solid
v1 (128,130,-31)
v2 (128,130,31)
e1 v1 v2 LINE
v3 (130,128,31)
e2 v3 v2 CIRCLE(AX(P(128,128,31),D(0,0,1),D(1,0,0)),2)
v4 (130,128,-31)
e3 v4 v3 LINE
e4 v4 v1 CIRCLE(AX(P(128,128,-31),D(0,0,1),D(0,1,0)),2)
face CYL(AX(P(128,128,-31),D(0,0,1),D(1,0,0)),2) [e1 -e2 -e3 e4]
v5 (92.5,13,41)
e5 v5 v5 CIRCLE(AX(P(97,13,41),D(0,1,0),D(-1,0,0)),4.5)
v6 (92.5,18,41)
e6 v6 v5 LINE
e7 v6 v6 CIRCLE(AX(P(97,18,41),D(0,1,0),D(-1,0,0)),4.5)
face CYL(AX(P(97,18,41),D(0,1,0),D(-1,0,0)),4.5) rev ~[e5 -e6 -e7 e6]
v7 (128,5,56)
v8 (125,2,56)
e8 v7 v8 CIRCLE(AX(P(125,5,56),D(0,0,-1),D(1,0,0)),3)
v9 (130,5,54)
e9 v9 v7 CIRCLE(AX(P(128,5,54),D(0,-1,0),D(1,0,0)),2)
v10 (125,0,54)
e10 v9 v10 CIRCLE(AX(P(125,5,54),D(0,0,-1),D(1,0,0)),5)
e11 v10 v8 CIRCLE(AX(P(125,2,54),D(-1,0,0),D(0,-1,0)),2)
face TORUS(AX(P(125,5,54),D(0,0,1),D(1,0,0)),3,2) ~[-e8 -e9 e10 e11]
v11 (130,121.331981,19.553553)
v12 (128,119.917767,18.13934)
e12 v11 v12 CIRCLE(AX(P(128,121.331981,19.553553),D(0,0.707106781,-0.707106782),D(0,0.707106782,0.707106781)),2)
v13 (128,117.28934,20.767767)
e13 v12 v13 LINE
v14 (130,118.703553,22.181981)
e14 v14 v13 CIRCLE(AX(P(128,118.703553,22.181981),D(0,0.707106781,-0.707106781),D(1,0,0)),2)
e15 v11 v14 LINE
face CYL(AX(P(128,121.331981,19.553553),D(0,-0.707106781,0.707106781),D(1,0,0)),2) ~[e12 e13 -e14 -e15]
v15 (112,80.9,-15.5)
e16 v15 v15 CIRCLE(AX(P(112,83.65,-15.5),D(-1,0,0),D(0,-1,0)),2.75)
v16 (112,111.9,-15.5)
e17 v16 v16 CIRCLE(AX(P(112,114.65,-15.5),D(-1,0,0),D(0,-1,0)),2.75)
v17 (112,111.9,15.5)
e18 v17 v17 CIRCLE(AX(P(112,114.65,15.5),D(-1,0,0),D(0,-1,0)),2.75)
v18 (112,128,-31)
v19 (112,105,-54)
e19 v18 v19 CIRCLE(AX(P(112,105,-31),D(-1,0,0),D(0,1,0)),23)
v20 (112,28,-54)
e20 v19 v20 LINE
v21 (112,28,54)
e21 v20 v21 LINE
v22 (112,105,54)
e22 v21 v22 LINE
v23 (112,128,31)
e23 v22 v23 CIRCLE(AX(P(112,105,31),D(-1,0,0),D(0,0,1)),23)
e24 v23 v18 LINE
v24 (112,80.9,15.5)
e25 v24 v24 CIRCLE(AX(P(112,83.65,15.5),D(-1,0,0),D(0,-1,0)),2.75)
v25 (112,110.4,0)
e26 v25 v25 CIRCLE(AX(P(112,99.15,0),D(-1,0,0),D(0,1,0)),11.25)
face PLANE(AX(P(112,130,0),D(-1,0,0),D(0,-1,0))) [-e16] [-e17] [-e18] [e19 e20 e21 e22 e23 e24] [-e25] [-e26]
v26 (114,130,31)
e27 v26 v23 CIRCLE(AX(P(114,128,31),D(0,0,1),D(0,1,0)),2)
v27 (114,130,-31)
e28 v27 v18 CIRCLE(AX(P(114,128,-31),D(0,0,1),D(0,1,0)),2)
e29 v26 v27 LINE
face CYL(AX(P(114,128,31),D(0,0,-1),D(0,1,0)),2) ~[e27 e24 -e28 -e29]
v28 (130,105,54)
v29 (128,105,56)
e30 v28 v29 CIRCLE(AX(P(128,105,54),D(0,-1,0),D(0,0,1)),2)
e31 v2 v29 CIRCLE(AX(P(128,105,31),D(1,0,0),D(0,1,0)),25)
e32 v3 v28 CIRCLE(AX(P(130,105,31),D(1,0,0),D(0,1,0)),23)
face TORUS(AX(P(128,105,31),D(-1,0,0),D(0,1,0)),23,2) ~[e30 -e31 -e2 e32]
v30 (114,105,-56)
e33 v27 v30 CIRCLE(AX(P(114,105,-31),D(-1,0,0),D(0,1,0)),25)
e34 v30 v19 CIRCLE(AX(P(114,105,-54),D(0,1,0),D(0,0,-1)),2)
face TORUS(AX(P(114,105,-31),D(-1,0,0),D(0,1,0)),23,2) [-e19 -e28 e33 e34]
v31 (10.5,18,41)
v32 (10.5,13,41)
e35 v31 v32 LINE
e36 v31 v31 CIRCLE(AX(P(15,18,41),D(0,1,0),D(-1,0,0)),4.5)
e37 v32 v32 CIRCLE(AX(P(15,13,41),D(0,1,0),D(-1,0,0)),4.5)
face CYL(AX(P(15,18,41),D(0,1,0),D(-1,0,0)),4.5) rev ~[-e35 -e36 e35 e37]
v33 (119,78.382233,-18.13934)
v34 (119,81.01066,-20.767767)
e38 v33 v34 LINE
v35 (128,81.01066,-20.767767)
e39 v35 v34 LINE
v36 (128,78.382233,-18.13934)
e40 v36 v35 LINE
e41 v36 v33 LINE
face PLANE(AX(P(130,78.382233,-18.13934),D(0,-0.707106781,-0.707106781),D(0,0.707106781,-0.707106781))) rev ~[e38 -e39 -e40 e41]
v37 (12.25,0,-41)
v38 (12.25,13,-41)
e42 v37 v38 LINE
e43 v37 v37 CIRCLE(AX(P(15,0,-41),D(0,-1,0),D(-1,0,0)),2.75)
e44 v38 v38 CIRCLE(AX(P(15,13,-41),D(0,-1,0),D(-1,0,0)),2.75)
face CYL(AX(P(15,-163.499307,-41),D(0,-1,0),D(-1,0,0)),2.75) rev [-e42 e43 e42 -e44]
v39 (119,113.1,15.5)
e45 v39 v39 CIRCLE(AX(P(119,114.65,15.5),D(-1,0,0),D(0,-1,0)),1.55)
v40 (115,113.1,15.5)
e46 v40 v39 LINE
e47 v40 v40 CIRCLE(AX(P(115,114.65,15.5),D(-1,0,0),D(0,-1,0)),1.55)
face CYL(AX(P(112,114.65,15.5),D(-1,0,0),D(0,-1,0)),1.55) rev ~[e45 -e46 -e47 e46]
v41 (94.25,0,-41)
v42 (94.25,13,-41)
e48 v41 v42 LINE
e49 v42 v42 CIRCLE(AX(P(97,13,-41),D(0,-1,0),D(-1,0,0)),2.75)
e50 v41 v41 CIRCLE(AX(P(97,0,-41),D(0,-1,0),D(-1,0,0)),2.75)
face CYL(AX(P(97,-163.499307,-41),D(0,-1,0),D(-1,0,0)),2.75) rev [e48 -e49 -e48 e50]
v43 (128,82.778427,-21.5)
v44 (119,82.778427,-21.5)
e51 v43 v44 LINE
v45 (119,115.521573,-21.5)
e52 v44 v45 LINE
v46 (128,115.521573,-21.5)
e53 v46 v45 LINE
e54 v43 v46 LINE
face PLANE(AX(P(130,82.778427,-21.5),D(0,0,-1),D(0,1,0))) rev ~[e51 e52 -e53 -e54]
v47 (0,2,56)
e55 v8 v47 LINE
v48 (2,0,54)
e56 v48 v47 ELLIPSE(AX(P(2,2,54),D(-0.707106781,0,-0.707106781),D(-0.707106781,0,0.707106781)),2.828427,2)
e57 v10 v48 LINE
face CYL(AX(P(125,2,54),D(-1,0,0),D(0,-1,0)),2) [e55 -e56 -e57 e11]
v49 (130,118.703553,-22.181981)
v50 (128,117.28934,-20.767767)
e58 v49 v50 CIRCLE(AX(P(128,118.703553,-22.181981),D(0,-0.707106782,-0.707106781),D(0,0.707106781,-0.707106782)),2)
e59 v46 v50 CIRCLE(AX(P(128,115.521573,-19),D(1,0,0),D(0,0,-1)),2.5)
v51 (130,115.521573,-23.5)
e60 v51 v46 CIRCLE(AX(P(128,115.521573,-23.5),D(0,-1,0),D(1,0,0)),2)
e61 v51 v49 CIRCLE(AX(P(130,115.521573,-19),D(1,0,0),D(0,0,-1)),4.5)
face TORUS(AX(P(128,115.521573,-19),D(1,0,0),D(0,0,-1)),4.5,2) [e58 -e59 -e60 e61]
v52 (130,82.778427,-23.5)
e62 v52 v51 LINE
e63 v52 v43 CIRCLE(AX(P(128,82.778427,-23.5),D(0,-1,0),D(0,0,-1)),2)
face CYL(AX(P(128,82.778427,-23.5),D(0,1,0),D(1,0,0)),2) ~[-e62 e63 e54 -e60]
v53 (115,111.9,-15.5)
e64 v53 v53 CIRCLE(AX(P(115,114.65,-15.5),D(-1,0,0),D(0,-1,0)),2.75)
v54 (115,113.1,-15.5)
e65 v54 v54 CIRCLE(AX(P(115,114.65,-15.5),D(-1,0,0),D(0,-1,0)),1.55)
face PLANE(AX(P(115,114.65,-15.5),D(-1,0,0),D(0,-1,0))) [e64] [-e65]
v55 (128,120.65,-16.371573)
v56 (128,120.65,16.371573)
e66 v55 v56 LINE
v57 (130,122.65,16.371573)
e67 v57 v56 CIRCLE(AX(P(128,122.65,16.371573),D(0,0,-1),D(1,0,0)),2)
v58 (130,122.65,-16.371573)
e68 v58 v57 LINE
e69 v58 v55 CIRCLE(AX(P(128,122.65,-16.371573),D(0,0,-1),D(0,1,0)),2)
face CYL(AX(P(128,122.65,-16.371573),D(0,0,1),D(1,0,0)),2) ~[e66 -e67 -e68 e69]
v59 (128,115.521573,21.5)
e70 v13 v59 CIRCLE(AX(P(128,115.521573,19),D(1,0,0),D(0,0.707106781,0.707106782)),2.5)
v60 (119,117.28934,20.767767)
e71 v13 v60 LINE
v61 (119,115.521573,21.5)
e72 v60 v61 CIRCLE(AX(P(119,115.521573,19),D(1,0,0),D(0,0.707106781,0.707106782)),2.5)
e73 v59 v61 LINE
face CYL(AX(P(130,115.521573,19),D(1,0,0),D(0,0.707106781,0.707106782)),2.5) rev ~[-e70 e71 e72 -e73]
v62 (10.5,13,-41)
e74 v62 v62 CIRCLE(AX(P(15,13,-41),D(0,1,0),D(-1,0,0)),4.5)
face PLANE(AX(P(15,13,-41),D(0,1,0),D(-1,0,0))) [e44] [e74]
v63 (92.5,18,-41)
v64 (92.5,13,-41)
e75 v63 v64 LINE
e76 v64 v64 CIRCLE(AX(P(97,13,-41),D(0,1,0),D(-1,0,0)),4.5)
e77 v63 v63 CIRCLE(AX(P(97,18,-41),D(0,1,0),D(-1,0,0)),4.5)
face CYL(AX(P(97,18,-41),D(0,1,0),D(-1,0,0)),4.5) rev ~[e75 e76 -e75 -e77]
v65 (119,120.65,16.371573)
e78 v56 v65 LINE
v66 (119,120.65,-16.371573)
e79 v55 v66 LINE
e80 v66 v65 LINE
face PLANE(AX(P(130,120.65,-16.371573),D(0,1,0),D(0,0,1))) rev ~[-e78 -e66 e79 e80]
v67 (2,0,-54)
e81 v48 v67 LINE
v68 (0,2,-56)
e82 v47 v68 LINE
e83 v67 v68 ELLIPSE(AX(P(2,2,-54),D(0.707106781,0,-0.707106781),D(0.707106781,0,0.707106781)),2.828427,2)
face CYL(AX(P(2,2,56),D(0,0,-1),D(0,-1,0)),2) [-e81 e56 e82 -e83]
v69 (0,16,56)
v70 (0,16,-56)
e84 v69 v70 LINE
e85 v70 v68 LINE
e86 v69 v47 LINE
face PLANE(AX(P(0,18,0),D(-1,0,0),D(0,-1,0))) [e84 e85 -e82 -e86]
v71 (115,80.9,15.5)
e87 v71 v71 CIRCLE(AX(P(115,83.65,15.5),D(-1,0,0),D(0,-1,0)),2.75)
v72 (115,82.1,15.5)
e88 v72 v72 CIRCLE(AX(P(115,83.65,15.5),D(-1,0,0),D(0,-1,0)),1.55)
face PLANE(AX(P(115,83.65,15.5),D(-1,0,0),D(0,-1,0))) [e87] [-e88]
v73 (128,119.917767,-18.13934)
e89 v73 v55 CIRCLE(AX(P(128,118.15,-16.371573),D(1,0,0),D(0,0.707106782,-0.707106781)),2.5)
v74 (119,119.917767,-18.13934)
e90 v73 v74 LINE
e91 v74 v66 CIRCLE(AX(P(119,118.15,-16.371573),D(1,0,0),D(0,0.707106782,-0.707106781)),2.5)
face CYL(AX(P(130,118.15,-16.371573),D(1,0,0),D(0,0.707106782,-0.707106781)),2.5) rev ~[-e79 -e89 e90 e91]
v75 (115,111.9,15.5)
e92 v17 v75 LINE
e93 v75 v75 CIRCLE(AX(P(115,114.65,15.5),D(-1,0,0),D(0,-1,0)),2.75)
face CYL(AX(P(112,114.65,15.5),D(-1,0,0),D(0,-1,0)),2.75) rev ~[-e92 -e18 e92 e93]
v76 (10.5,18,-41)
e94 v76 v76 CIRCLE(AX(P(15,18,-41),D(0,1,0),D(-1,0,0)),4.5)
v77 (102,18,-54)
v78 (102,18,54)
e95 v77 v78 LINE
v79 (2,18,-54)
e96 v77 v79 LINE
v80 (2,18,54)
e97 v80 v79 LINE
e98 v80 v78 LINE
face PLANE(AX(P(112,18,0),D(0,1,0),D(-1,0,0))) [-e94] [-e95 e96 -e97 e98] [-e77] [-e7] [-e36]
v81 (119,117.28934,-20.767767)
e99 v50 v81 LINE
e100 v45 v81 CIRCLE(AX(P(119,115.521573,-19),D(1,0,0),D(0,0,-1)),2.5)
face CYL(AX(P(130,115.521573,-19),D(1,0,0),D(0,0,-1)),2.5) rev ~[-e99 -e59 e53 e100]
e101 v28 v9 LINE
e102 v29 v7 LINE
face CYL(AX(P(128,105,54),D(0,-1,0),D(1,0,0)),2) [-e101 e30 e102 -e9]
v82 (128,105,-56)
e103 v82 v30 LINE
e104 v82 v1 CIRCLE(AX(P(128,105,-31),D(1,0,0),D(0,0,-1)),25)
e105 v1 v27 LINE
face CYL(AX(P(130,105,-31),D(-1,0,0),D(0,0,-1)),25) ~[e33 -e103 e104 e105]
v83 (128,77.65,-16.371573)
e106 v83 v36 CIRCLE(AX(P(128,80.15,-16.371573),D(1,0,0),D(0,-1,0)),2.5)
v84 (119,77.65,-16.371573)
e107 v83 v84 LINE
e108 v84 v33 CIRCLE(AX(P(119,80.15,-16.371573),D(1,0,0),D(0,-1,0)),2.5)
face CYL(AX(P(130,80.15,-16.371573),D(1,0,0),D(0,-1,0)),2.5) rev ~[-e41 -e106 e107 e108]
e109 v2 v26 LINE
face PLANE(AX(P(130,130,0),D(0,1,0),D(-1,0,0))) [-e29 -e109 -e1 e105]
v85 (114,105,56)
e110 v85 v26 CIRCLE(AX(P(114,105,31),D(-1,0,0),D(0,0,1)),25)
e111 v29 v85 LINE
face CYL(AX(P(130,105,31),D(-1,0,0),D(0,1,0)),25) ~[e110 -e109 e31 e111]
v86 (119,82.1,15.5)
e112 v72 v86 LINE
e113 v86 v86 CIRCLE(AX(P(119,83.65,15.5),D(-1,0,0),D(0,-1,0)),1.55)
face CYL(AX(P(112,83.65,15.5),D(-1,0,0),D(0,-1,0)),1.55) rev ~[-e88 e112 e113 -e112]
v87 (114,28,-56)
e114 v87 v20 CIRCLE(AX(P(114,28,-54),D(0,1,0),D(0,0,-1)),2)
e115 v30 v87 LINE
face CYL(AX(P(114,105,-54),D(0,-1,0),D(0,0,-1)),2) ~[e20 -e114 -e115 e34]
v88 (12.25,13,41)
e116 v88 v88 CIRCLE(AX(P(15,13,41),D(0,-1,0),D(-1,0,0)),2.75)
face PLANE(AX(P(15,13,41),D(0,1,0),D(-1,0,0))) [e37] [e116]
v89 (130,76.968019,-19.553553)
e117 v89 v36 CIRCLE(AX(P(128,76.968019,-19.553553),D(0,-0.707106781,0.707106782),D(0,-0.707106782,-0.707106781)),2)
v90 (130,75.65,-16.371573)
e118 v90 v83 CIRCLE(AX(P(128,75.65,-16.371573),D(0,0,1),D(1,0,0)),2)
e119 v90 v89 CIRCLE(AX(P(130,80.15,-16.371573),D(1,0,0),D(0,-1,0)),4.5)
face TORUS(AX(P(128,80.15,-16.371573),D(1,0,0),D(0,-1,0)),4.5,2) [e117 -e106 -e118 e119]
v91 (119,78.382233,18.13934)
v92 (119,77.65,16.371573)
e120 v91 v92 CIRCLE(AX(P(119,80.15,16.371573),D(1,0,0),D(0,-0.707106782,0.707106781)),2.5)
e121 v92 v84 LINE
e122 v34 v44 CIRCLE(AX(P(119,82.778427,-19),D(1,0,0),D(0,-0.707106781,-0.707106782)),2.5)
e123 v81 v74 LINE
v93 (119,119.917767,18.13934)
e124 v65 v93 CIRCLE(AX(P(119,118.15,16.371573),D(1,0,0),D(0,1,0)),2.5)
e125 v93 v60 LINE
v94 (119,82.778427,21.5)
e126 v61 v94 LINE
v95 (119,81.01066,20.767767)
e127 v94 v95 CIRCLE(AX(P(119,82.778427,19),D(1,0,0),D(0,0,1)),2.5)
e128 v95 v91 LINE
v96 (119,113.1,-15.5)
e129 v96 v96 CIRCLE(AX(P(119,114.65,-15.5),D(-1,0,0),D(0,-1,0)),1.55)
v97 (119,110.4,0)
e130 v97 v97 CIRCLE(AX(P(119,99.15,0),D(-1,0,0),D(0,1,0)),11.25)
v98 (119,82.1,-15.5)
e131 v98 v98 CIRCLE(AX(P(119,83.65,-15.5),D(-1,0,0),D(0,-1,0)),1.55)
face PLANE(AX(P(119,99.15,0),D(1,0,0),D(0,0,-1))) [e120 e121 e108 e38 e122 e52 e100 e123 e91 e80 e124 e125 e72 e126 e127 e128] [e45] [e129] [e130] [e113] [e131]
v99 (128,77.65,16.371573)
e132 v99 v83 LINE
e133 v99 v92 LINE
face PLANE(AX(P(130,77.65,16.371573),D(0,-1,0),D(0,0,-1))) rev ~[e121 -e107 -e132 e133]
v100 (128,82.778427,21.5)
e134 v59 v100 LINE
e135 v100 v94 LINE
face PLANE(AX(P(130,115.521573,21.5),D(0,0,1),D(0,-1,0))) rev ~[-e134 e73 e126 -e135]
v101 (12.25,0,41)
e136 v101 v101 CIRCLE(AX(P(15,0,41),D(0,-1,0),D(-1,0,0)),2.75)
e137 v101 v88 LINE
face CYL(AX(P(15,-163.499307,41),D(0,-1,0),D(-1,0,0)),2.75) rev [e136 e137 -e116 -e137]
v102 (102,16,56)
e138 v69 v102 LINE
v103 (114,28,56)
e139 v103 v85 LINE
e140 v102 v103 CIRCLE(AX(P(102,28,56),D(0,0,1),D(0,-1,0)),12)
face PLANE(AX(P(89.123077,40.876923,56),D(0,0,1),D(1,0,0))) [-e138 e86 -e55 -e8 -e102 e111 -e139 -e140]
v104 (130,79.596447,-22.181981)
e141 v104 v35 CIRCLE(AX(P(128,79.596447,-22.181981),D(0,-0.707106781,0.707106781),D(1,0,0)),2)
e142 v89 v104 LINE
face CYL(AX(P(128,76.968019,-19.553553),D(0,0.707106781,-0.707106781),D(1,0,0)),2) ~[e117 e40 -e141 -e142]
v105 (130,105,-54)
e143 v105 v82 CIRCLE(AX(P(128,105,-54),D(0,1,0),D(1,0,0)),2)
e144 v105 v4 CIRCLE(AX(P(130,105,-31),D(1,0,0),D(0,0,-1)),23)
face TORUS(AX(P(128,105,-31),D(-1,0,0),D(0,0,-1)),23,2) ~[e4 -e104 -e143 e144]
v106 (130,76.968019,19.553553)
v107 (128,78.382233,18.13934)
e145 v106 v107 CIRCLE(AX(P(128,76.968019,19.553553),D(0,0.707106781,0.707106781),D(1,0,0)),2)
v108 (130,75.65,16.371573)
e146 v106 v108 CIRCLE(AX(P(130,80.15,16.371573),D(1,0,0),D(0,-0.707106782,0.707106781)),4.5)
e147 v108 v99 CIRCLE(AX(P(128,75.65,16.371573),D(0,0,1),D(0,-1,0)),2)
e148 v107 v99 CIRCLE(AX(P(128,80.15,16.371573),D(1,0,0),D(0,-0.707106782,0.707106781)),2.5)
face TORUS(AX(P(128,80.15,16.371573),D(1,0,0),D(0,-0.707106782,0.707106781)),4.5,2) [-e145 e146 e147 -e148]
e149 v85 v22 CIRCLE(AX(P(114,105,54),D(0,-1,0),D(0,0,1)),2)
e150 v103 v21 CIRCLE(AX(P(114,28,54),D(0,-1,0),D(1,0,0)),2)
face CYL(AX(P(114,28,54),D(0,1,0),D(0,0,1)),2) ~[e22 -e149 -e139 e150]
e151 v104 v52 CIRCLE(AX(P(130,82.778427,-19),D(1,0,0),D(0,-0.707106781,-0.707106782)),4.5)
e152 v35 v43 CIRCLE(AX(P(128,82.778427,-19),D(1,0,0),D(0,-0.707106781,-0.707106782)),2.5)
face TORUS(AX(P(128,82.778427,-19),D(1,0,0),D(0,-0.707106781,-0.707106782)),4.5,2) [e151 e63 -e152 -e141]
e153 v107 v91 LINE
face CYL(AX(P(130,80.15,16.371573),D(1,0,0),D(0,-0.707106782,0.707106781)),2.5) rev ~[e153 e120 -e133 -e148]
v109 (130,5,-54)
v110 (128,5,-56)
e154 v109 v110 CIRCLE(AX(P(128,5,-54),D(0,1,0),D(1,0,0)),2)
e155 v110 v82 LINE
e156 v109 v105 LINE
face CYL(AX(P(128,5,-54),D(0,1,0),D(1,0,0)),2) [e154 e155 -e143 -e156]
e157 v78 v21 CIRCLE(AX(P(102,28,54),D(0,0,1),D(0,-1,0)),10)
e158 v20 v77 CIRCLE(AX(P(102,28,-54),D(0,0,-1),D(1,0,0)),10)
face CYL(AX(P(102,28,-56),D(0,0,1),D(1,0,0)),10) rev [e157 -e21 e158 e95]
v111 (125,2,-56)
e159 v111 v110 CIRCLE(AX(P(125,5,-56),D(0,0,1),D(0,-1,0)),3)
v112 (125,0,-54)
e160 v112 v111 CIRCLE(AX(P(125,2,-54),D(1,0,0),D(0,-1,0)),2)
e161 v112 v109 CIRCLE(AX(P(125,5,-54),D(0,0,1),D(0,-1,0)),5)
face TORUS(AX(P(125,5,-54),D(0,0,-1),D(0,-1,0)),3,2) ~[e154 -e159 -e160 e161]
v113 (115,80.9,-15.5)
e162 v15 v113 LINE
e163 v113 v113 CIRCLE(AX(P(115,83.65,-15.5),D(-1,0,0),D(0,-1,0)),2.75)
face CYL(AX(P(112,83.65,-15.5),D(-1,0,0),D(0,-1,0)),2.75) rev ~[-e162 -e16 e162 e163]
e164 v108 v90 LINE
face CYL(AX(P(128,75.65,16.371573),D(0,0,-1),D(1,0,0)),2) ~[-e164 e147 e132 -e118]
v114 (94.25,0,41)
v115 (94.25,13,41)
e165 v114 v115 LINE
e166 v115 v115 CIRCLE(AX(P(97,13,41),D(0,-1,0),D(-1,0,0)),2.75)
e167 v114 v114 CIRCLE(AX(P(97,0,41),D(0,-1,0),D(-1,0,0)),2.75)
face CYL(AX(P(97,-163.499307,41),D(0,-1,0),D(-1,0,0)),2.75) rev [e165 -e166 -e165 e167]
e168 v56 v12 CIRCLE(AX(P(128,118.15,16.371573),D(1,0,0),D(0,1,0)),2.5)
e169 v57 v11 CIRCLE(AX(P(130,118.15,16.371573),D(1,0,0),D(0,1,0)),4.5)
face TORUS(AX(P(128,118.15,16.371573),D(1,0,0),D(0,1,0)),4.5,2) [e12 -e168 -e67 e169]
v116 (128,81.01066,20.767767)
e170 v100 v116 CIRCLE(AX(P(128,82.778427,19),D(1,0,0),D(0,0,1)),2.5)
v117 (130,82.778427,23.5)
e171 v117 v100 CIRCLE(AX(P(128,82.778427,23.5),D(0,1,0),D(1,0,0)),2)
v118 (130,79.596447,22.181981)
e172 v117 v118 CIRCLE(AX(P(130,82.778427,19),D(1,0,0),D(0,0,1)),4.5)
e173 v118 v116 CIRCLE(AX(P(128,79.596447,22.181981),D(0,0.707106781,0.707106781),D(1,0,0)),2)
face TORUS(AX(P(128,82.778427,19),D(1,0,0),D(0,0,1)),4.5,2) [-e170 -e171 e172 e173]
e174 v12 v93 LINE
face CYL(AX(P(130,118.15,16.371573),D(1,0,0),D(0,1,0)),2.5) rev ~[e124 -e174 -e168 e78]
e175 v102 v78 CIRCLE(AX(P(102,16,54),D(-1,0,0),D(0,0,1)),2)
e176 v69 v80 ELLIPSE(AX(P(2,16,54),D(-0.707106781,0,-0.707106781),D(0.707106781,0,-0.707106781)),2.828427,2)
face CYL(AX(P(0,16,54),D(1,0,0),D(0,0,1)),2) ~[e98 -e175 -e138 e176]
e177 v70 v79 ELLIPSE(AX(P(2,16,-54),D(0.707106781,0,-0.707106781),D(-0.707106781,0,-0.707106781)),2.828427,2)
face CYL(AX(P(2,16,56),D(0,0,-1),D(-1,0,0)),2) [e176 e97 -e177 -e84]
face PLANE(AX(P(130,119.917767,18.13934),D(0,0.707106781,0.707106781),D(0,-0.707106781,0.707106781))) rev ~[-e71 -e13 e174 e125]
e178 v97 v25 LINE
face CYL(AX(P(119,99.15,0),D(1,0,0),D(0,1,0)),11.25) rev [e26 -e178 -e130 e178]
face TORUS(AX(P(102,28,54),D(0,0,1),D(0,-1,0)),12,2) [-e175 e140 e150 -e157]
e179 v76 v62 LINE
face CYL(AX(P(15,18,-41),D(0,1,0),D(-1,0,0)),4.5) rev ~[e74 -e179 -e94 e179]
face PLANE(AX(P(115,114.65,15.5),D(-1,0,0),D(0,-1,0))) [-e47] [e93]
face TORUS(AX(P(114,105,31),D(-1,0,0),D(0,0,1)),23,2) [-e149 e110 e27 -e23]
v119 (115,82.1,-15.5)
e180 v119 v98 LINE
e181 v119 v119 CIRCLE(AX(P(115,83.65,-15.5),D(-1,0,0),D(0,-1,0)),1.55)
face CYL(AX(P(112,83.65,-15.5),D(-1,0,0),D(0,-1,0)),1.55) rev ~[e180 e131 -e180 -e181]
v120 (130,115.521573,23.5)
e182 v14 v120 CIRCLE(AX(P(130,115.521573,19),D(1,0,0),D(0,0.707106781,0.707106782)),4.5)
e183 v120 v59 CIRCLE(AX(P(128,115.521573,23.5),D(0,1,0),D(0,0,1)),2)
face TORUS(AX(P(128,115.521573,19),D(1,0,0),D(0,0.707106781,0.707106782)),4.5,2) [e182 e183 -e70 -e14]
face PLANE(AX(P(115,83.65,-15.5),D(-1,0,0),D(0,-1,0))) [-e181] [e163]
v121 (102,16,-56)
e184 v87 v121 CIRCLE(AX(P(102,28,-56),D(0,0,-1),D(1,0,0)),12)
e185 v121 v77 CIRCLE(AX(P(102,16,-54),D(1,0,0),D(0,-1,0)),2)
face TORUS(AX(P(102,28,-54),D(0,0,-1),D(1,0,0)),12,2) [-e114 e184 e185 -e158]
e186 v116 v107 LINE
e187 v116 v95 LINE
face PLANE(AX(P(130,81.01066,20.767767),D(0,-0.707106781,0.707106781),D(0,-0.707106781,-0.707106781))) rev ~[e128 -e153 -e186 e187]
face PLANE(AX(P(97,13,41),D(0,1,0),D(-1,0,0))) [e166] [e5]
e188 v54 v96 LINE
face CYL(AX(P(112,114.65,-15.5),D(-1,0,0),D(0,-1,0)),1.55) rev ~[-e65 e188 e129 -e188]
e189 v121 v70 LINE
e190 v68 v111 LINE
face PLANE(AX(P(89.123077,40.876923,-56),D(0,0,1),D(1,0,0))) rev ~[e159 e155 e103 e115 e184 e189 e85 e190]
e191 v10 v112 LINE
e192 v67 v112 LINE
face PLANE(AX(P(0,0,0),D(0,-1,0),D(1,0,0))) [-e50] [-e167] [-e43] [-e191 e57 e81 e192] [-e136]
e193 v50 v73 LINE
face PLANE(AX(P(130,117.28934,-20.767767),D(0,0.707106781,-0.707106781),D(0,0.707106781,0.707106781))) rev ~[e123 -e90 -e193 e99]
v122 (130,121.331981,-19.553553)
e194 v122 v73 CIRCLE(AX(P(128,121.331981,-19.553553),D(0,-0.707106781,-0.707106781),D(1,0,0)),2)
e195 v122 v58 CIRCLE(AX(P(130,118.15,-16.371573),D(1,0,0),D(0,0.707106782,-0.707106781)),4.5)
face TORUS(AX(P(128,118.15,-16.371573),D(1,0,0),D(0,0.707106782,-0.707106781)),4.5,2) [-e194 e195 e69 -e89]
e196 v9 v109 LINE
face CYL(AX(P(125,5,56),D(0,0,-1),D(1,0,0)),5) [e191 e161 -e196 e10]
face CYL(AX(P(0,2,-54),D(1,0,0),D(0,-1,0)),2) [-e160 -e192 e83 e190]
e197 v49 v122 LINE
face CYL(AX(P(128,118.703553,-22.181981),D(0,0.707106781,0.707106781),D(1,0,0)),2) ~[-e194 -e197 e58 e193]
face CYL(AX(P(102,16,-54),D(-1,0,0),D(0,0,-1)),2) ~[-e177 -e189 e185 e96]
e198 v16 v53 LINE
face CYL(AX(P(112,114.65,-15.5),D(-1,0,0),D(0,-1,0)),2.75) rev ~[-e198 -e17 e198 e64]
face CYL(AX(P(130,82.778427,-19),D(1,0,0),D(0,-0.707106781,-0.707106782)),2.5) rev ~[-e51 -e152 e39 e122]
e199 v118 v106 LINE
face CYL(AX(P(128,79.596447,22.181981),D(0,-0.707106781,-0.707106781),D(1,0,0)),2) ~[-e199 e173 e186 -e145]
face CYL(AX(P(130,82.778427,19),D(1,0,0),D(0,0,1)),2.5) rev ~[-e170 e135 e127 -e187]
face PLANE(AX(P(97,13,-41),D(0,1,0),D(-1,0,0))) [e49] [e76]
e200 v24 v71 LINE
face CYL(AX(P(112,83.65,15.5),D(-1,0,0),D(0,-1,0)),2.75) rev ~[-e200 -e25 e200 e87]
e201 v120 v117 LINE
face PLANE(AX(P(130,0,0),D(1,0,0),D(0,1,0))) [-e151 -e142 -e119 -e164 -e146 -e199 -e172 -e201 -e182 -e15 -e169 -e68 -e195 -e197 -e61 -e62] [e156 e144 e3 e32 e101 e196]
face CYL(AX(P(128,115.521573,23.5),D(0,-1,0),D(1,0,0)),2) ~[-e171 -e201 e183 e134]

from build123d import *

# Parameters (mm, degrees)
BOSS_EXTRUDE1_DEPTH     = 56
CUT_EXTRUDE1_DEPTH      = 11
SKETCH6_R               = 11.25
SKETCH6_R_2             = 11
CUT_EXTRUDE3_DEPTH      = 7
CUT_EXTRUDE4_REACH      = 182.499
SKETCH7_R               = 1.55
SKETCH8_R               = 2.75
SKETCH8_R_2             = 1.55
CUT_EXTRUDE5_DEPTH      = 3
SKETCH9_R               = 4.5
SKETCH9_R_2             = 2.75
CUT_EXTRUDE6_DEPTH      = 5
CUT_EXTRUDE7_DEPTH      = 181.499307478
CUT_EXTRUDE7_DEPTH_BACK = 181.499307478
SKETCH9_3_R             = 2.75
FILLET1_R               = 10
FILLET2_R               = 25
FILLET3_R               = 5
FILLET4_R               = 2


with BuildPart() as part:
    # Sketch1 → Boss-Extrude1 (new, symmetric)
    with BuildSketch(Plane.XY):
        Polygon((130, 0), (130, 130), (112, 130), (112, 18), (0, 18), (0, 0), align=None)
    extrude(amount=BOSS_EXTRUDE1_DEPTH, both=True)

    # Sketch2 → Cut-Extrude1 (cut)
    with BuildSketch(Plane(origin=(130, 0, 0), x_dir=(0, 0, -1), z_dir=(1, 0, 0))):
        with BuildLine():
            Line((-20.060660172, 81.717766953), (-17.432233047, 79.089339828))
            ThreePointArc((-17.432233047, 79.089339828), (-16.945598024, 78.764180701), (-16.371572875, 78.65))
            Line((-16.371572875, 78.65), (16.371572875, 78.65))
            ThreePointArc((16.371572875, 78.65), (16.945598024, 78.764180701), (17.432233047, 79.089339828))
            Line((17.432233047, 79.089339828), (20.060660172, 81.717766953))
            ThreePointArc((20.060660172, 81.717766953), (20.385819299, 82.204401976), (20.5, 82.778427125))
            Line((20.5, 82.778427125), (20.5, 115.521572875))
            ThreePointArc((20.5, 115.521572875), (20.385819299, 116.095598024), (20.060660172, 116.582233047))
            Line((20.060660172, 116.582233047), (17.432233047, 119.210660172))
            ThreePointArc((17.432233047, 119.210660172), (16.945598024, 119.535819299), (16.371572875, 119.65))
            Line((16.371572875, 119.65), (-16.371572875, 119.65))
            ThreePointArc((-16.371572875, 119.65), (-16.945598024, 119.535819299), (-17.432233047, 119.210660172))
            Line((-17.432233047, 119.210660172), (-20.060660172, 116.582233047))
            ThreePointArc((-20.060660172, 116.582233047), (-20.385819299, 116.095598024), (-20.5, 115.521572875))
            Line((-20.5, 115.521572875), (-20.5, 82.778427125))
            ThreePointArc((-20.5, 82.778427125), (-20.385819299, 82.204401976), (-20.060660172, 81.717766953))
        make_face()
        with BuildLine():
            Line((-20.767766953, 81.010660172), (-18.139339828, 78.382233047))
            ThreePointArc((-18.139339828, 78.382233047), (-17.328281456, 77.840301169), (-16.371572875, 77.65))
            Line((-16.371572875, 77.65), (16.371572875, 77.65))
            ThreePointArc((16.371572875, 77.65), (17.328281456, 77.840301169), (18.139339828, 78.382233047))
            Line((18.139339828, 78.382233047), (20.767766953, 81.010660172))
            ThreePointArc((20.767766953, 81.010660172), (21.309698831, 81.821718544), (21.5, 82.778427125))
            Line((21.5, 82.778427125), (21.5, 115.521572875))
            ThreePointArc((21.5, 115.521572875), (21.309698831, 116.478281456), (20.767766953, 117.289339828))
            Line((20.767766953, 117.289339828), (18.139339828, 119.917766953))
            ThreePointArc((18.139339828, 119.917766953), (17.328281456, 120.459698831), (16.371572875, 120.65))
            Line((16.371572875, 120.65), (-16.371572875, 120.65))
            ThreePointArc((-16.371572875, 120.65), (-17.328281456, 120.459698831), (-18.139339828, 119.917766953))
            Line((-18.139339828, 119.917766953), (-20.767766953, 117.289339828))
            ThreePointArc((-20.767766953, 117.289339828), (-21.309698831, 116.478281456), (-21.5, 115.521572875))
            Line((-21.5, 115.521572875), (-21.5, 82.778427125))
            ThreePointArc((-21.5, 82.778427125), (-21.309698831, 81.821718544), (-20.767766953, 81.010660172))
        make_face()
    extrude(amount=-CUT_EXTRUDE1_DEPTH, mode=Mode.SUBTRACT)

    # Sketch6 → Cut-Extrude3 (cut)
    with BuildSketch(Plane.ZY.offset(-119)):
        with Locations(Location((0, 99.15, 0), (0, 0, 90))):
            Circle(SKETCH6_R)
        with Locations((0, 99.15)):
            Circle(SKETCH6_R_2, mode=Mode.SUBTRACT)
    extrude(amount=CUT_EXTRUDE3_DEPTH, mode=Mode.SUBTRACT)


with BuildPart() as cut_extrude3_kept_piece:
    # of the separate pieces the step leaves, the one the design keeps (cut_extrude3_pieces_kept)
    add(part.part.solids().sort_by_distance((130, 0, -56))[0])

    # Sketch7 → Cut-Extrude4 (cut, up to next)
    with BuildSketch(Plane.ZY.offset(-112), mode=Mode.PRIVATE) as cut_extrude4_sk1:
        with Locations(Location((-15.5, 83.65, 0), (0, 0, 270))):
            Circle(SKETCH7_R)
    cut_extrude4_tool1 = extrude(cut_extrude4_sk1.sketch, amount=-CUT_EXTRUDE4_REACH, mode=Mode.PRIVATE) & cut_extrude3_kept_piece.part
    # Sketch7 → Cut-Extrude4 (cut, up to next)
    with BuildSketch(Plane.ZY.offset(-112), mode=Mode.PRIVATE) as cut_extrude4_sk2:
        with Locations(Location((15.5, 83.65, 0), (0, 0, 270))):
            Circle(SKETCH7_R)
    cut_extrude4_tool2 = extrude(cut_extrude4_sk2.sketch, amount=-CUT_EXTRUDE4_REACH, mode=Mode.PRIVATE) & cut_extrude3_kept_piece.part
    # Sketch7 → Cut-Extrude4 (cut, up to next)
    with BuildSketch(Plane.ZY.offset(-112), mode=Mode.PRIVATE) as cut_extrude4_sk3:
        with Locations(Location((15.5, 114.65, 0), (0, 0, 270))):
            Circle(SKETCH7_R)
    cut_extrude4_tool3 = extrude(cut_extrude4_sk3.sketch, amount=-CUT_EXTRUDE4_REACH, mode=Mode.PRIVATE) & cut_extrude3_kept_piece.part
    # Sketch7 → Cut-Extrude4 (cut, up to next)
    with BuildSketch(Plane.ZY.offset(-112), mode=Mode.PRIVATE) as cut_extrude4_sk4:
        with Locations(Location((-15.5, 114.65, 0), (0, 0, 270))):
            Circle(SKETCH7_R)
    cut_extrude4_tool4 = extrude(cut_extrude4_sk4.sketch, amount=-CUT_EXTRUDE4_REACH, mode=Mode.PRIVATE) & cut_extrude3_kept_piece.part
    add(cut_extrude4_tool1.solids().sort_by_distance((112, 83.65, -15.5))[0], mode=Mode.SUBTRACT)
    add(cut_extrude4_tool2.solids().sort_by_distance((112, 83.65, 15.5))[0], mode=Mode.SUBTRACT)
    add(cut_extrude4_tool3.solids().sort_by_distance((112, 114.65, 15.5))[0], mode=Mode.SUBTRACT)
    add(cut_extrude4_tool4.solids().sort_by_distance((112, 114.65, -15.5))[0], mode=Mode.SUBTRACT)

    # Sketch8 → Cut-Extrude5 (cut)
    # profile 1 of 4: a face of its own
    with BuildSketch(Plane.ZY.offset(-112)):
        with Locations(Location((-15.5, 114.65, 0), (0, 0, 270))):
            Circle(SKETCH8_R)
        with Locations(Location((-15.5, 114.65, 0), (0, 0, 270))):
            Circle(SKETCH8_R_2, mode=Mode.SUBTRACT)
    # profile 2 of 4: a face of its own
    with BuildSketch(Plane.ZY.offset(-112)):
        with Locations(Location((15.5, 114.65, 0), (0, 0, 270))):
            Circle(SKETCH8_R)
        with Locations(Location((15.5, 114.65, 0), (0, 0, 270))):
            Circle(SKETCH8_R_2, mode=Mode.SUBTRACT)
    # profile 3 of 4: a face of its own
    with BuildSketch(Plane.ZY.offset(-112)):
        with Locations(Location((15.5, 83.65, 0), (0, 0, 270))):
            Circle(SKETCH8_R)
        with Locations(Location((15.5, 83.65, 0), (0, 0, 270))):
            Circle(SKETCH8_R_2, mode=Mode.SUBTRACT)
    # profile 4 of 4: a face of its own
    with BuildSketch(Plane.ZY.offset(-112)):
        with Locations(Location((-15.5, 83.65, 0), (0, 0, 270))):
            Circle(SKETCH8_R)
        with Locations(Location((-15.5, 83.65, 0), (0, 0, 270))):
            Circle(SKETCH8_R_2, mode=Mode.SUBTRACT)
    extrude(amount=-CUT_EXTRUDE5_DEPTH, mode=Mode.SUBTRACT)

    # Sketch9 → Cut-Extrude6 (cut)
    # profile 1 of 8: a face of its own
    with BuildSketch(Plane(origin=(0, 18, 0), x_dir=(1, 0, 0), z_dir=(0, 1, 0))):
        with Locations(Location((15, -41, 0), (0, 0, 180))):
            Circle(SKETCH9_R)
        with Locations((15, -41)):
            Circle(SKETCH9_R_2, mode=Mode.SUBTRACT)
    # profile 2 of 8: a face of its own
    with BuildSketch(Plane(origin=(0, 18, 0), x_dir=(1, 0, 0), z_dir=(0, 1, 0))):
        with Locations((15, -41)):
            Circle(SKETCH9_R_2)
    # profile 3 of 8: a face of its own
    with BuildSketch(Plane(origin=(0, 18, 0), x_dir=(1, 0, 0), z_dir=(0, 1, 0))):
        with Locations(Location((15, 41, 0), (0, 0, 180))):
            Circle(SKETCH9_R)
        with Locations((15, 41)):
            Circle(SKETCH9_R_2, mode=Mode.SUBTRACT)
    # profile 4 of 8: a face of its own
    with BuildSketch(Plane(origin=(0, 18, 0), x_dir=(1, 0, 0), z_dir=(0, 1, 0))):
        with Locations((15, 41)):
            Circle(SKETCH9_R_2)
    # profile 5 of 8: a face of its own
    with BuildSketch(Plane(origin=(0, 18, 0), x_dir=(1, 0, 0), z_dir=(0, 1, 0))):
        with Locations(Location((97, 41, 0), (0, 0, 180))):
            Circle(SKETCH9_R)
        with Locations((97, 41)):
            Circle(SKETCH9_R_2, mode=Mode.SUBTRACT)
    # profile 6 of 8: a face of its own
    with BuildSketch(Plane(origin=(0, 18, 0), x_dir=(1, 0, 0), z_dir=(0, 1, 0))):
        with Locations((97, 41)):
            Circle(SKETCH9_R_2)
    # profile 7 of 8: a face of its own
    with BuildSketch(Plane(origin=(0, 18, 0), x_dir=(1, 0, 0), z_dir=(0, 1, 0))):
        with Locations(Location((97, -41, 0), (0, 0, 180))):
            Circle(SKETCH9_R)
        with Locations((97, -41)):
            Circle(SKETCH9_R_2, mode=Mode.SUBTRACT)
    # profile 8 of 8: a face of its own
    with BuildSketch(Plane(origin=(0, 18, 0), x_dir=(1, 0, 0), z_dir=(0, 1, 0))):
        with Locations((97, -41)):
            Circle(SKETCH9_R_2)
    extrude(amount=-CUT_EXTRUDE6_DEPTH, mode=Mode.SUBTRACT)

    # Sketch9<3> → Cut-Extrude7 (cut, two sides: drawn at the far end of the back side and taken through both)
    with BuildSketch(Plane(origin=(0, 18, 0), x_dir=(1, 0, 0), z_dir=(0, 1, 0)).offset(-CUT_EXTRUDE7_DEPTH_BACK)):
        with Locations(Location((15, 41, 0), (0, 0, 180))):
            Circle(SKETCH9_3_R)
        with Locations(Location((97, 41, 0), (0, 0, 180))):
            Circle(SKETCH9_3_R)
        with Locations(Location((97, -41, 0), (0, 0, 180))):
            Circle(SKETCH9_3_R)
        with Locations(Location((15, -41, 0), (0, 0, 180))):
            Circle(SKETCH9_3_R)
    extrude(amount=CUT_EXTRUDE7_DEPTH + CUT_EXTRUDE7_DEPTH_BACK, mode=Mode.SUBTRACT)

    # Fillet1
    fillet1_edges = [cut_extrude3_kept_piece.edges().sort_by_distance(p)[0] for p in [
        (112, 18, 0),
    ]]
    fillet(fillet1_edges, radius=FILLET1_R)

    # Fillet2
    fillet2_edges = [cut_extrude3_kept_piece.edges().sort_by_distance(p)[0] for p in [
        (121, 130, -56),
        (121, 130, 56),
    ]]
    fillet(fillet2_edges, radius=FILLET2_R)

    # Fillet3
    fillet3_edges = [cut_extrude3_kept_piece.edges().sort_by_distance(p)[0] for p in [
        (130, 0, 0),
    ]]
    fillet(fillet3_edges, radius=FILLET3_R)

    # Fillet4
    fillet4_edges = [cut_extrude3_kept_piece.edges().sort_by_distance(p)[0] for p in [
        (51, 18, -56),
        (51, 18, 56),
        (109.071067812, 20.928932188, -56),
        (109.071067812, 20.928932188, 56),
        (112, 130, 0),
        (130, 130, 0),
        (112, 66.5, -56),
        (112, 66.5, 56),
        (112, 122.67766953, 48.67766953),
        (112, 122.67766953, -48.67766953),
        (130, 122.67766953, 48.67766953),
        (130, 122.67766953, -48.67766953),
        (130, 55, -56),
        (130, 55, 56),
        (128.535533906, 1.464466094, -56),
        (128.535533906, 1.464466094, 56),
        (0, 18, 0),
        (62.5, 0, -56),
        (0, 0, 0),
        (62.5, 0, 56),
        (130, 79.696446609, 19.453553391),
        (130, 81.821718544, 21.309698831),
        (130, 99.15, 21.5),
        (130, 116.478281456, 21.309698831),
        (130, 118.603553391, 19.453553391),
        (130, 120.459698831, 17.328281456),
        (130, 120.65, 0),
        (130, 120.459698831, -17.328281456),
        (130, 118.603553391, -19.453553391),
        (130, 116.478281456, -21.309698831),
        (130, 99.15, -21.5),
        (130, 81.821718544, -21.309698831),
        (130, 79.696446609, -19.453553391),
        (130, 77.840301169, -17.328281456),
        (130, 77.65, 0),
        (130, 77.840301169, 17.328281456),
    ]]
    fillet(fillet4_edges, radius=FILLET4_R)


solid = cut_extrude3_kept_piece.part
